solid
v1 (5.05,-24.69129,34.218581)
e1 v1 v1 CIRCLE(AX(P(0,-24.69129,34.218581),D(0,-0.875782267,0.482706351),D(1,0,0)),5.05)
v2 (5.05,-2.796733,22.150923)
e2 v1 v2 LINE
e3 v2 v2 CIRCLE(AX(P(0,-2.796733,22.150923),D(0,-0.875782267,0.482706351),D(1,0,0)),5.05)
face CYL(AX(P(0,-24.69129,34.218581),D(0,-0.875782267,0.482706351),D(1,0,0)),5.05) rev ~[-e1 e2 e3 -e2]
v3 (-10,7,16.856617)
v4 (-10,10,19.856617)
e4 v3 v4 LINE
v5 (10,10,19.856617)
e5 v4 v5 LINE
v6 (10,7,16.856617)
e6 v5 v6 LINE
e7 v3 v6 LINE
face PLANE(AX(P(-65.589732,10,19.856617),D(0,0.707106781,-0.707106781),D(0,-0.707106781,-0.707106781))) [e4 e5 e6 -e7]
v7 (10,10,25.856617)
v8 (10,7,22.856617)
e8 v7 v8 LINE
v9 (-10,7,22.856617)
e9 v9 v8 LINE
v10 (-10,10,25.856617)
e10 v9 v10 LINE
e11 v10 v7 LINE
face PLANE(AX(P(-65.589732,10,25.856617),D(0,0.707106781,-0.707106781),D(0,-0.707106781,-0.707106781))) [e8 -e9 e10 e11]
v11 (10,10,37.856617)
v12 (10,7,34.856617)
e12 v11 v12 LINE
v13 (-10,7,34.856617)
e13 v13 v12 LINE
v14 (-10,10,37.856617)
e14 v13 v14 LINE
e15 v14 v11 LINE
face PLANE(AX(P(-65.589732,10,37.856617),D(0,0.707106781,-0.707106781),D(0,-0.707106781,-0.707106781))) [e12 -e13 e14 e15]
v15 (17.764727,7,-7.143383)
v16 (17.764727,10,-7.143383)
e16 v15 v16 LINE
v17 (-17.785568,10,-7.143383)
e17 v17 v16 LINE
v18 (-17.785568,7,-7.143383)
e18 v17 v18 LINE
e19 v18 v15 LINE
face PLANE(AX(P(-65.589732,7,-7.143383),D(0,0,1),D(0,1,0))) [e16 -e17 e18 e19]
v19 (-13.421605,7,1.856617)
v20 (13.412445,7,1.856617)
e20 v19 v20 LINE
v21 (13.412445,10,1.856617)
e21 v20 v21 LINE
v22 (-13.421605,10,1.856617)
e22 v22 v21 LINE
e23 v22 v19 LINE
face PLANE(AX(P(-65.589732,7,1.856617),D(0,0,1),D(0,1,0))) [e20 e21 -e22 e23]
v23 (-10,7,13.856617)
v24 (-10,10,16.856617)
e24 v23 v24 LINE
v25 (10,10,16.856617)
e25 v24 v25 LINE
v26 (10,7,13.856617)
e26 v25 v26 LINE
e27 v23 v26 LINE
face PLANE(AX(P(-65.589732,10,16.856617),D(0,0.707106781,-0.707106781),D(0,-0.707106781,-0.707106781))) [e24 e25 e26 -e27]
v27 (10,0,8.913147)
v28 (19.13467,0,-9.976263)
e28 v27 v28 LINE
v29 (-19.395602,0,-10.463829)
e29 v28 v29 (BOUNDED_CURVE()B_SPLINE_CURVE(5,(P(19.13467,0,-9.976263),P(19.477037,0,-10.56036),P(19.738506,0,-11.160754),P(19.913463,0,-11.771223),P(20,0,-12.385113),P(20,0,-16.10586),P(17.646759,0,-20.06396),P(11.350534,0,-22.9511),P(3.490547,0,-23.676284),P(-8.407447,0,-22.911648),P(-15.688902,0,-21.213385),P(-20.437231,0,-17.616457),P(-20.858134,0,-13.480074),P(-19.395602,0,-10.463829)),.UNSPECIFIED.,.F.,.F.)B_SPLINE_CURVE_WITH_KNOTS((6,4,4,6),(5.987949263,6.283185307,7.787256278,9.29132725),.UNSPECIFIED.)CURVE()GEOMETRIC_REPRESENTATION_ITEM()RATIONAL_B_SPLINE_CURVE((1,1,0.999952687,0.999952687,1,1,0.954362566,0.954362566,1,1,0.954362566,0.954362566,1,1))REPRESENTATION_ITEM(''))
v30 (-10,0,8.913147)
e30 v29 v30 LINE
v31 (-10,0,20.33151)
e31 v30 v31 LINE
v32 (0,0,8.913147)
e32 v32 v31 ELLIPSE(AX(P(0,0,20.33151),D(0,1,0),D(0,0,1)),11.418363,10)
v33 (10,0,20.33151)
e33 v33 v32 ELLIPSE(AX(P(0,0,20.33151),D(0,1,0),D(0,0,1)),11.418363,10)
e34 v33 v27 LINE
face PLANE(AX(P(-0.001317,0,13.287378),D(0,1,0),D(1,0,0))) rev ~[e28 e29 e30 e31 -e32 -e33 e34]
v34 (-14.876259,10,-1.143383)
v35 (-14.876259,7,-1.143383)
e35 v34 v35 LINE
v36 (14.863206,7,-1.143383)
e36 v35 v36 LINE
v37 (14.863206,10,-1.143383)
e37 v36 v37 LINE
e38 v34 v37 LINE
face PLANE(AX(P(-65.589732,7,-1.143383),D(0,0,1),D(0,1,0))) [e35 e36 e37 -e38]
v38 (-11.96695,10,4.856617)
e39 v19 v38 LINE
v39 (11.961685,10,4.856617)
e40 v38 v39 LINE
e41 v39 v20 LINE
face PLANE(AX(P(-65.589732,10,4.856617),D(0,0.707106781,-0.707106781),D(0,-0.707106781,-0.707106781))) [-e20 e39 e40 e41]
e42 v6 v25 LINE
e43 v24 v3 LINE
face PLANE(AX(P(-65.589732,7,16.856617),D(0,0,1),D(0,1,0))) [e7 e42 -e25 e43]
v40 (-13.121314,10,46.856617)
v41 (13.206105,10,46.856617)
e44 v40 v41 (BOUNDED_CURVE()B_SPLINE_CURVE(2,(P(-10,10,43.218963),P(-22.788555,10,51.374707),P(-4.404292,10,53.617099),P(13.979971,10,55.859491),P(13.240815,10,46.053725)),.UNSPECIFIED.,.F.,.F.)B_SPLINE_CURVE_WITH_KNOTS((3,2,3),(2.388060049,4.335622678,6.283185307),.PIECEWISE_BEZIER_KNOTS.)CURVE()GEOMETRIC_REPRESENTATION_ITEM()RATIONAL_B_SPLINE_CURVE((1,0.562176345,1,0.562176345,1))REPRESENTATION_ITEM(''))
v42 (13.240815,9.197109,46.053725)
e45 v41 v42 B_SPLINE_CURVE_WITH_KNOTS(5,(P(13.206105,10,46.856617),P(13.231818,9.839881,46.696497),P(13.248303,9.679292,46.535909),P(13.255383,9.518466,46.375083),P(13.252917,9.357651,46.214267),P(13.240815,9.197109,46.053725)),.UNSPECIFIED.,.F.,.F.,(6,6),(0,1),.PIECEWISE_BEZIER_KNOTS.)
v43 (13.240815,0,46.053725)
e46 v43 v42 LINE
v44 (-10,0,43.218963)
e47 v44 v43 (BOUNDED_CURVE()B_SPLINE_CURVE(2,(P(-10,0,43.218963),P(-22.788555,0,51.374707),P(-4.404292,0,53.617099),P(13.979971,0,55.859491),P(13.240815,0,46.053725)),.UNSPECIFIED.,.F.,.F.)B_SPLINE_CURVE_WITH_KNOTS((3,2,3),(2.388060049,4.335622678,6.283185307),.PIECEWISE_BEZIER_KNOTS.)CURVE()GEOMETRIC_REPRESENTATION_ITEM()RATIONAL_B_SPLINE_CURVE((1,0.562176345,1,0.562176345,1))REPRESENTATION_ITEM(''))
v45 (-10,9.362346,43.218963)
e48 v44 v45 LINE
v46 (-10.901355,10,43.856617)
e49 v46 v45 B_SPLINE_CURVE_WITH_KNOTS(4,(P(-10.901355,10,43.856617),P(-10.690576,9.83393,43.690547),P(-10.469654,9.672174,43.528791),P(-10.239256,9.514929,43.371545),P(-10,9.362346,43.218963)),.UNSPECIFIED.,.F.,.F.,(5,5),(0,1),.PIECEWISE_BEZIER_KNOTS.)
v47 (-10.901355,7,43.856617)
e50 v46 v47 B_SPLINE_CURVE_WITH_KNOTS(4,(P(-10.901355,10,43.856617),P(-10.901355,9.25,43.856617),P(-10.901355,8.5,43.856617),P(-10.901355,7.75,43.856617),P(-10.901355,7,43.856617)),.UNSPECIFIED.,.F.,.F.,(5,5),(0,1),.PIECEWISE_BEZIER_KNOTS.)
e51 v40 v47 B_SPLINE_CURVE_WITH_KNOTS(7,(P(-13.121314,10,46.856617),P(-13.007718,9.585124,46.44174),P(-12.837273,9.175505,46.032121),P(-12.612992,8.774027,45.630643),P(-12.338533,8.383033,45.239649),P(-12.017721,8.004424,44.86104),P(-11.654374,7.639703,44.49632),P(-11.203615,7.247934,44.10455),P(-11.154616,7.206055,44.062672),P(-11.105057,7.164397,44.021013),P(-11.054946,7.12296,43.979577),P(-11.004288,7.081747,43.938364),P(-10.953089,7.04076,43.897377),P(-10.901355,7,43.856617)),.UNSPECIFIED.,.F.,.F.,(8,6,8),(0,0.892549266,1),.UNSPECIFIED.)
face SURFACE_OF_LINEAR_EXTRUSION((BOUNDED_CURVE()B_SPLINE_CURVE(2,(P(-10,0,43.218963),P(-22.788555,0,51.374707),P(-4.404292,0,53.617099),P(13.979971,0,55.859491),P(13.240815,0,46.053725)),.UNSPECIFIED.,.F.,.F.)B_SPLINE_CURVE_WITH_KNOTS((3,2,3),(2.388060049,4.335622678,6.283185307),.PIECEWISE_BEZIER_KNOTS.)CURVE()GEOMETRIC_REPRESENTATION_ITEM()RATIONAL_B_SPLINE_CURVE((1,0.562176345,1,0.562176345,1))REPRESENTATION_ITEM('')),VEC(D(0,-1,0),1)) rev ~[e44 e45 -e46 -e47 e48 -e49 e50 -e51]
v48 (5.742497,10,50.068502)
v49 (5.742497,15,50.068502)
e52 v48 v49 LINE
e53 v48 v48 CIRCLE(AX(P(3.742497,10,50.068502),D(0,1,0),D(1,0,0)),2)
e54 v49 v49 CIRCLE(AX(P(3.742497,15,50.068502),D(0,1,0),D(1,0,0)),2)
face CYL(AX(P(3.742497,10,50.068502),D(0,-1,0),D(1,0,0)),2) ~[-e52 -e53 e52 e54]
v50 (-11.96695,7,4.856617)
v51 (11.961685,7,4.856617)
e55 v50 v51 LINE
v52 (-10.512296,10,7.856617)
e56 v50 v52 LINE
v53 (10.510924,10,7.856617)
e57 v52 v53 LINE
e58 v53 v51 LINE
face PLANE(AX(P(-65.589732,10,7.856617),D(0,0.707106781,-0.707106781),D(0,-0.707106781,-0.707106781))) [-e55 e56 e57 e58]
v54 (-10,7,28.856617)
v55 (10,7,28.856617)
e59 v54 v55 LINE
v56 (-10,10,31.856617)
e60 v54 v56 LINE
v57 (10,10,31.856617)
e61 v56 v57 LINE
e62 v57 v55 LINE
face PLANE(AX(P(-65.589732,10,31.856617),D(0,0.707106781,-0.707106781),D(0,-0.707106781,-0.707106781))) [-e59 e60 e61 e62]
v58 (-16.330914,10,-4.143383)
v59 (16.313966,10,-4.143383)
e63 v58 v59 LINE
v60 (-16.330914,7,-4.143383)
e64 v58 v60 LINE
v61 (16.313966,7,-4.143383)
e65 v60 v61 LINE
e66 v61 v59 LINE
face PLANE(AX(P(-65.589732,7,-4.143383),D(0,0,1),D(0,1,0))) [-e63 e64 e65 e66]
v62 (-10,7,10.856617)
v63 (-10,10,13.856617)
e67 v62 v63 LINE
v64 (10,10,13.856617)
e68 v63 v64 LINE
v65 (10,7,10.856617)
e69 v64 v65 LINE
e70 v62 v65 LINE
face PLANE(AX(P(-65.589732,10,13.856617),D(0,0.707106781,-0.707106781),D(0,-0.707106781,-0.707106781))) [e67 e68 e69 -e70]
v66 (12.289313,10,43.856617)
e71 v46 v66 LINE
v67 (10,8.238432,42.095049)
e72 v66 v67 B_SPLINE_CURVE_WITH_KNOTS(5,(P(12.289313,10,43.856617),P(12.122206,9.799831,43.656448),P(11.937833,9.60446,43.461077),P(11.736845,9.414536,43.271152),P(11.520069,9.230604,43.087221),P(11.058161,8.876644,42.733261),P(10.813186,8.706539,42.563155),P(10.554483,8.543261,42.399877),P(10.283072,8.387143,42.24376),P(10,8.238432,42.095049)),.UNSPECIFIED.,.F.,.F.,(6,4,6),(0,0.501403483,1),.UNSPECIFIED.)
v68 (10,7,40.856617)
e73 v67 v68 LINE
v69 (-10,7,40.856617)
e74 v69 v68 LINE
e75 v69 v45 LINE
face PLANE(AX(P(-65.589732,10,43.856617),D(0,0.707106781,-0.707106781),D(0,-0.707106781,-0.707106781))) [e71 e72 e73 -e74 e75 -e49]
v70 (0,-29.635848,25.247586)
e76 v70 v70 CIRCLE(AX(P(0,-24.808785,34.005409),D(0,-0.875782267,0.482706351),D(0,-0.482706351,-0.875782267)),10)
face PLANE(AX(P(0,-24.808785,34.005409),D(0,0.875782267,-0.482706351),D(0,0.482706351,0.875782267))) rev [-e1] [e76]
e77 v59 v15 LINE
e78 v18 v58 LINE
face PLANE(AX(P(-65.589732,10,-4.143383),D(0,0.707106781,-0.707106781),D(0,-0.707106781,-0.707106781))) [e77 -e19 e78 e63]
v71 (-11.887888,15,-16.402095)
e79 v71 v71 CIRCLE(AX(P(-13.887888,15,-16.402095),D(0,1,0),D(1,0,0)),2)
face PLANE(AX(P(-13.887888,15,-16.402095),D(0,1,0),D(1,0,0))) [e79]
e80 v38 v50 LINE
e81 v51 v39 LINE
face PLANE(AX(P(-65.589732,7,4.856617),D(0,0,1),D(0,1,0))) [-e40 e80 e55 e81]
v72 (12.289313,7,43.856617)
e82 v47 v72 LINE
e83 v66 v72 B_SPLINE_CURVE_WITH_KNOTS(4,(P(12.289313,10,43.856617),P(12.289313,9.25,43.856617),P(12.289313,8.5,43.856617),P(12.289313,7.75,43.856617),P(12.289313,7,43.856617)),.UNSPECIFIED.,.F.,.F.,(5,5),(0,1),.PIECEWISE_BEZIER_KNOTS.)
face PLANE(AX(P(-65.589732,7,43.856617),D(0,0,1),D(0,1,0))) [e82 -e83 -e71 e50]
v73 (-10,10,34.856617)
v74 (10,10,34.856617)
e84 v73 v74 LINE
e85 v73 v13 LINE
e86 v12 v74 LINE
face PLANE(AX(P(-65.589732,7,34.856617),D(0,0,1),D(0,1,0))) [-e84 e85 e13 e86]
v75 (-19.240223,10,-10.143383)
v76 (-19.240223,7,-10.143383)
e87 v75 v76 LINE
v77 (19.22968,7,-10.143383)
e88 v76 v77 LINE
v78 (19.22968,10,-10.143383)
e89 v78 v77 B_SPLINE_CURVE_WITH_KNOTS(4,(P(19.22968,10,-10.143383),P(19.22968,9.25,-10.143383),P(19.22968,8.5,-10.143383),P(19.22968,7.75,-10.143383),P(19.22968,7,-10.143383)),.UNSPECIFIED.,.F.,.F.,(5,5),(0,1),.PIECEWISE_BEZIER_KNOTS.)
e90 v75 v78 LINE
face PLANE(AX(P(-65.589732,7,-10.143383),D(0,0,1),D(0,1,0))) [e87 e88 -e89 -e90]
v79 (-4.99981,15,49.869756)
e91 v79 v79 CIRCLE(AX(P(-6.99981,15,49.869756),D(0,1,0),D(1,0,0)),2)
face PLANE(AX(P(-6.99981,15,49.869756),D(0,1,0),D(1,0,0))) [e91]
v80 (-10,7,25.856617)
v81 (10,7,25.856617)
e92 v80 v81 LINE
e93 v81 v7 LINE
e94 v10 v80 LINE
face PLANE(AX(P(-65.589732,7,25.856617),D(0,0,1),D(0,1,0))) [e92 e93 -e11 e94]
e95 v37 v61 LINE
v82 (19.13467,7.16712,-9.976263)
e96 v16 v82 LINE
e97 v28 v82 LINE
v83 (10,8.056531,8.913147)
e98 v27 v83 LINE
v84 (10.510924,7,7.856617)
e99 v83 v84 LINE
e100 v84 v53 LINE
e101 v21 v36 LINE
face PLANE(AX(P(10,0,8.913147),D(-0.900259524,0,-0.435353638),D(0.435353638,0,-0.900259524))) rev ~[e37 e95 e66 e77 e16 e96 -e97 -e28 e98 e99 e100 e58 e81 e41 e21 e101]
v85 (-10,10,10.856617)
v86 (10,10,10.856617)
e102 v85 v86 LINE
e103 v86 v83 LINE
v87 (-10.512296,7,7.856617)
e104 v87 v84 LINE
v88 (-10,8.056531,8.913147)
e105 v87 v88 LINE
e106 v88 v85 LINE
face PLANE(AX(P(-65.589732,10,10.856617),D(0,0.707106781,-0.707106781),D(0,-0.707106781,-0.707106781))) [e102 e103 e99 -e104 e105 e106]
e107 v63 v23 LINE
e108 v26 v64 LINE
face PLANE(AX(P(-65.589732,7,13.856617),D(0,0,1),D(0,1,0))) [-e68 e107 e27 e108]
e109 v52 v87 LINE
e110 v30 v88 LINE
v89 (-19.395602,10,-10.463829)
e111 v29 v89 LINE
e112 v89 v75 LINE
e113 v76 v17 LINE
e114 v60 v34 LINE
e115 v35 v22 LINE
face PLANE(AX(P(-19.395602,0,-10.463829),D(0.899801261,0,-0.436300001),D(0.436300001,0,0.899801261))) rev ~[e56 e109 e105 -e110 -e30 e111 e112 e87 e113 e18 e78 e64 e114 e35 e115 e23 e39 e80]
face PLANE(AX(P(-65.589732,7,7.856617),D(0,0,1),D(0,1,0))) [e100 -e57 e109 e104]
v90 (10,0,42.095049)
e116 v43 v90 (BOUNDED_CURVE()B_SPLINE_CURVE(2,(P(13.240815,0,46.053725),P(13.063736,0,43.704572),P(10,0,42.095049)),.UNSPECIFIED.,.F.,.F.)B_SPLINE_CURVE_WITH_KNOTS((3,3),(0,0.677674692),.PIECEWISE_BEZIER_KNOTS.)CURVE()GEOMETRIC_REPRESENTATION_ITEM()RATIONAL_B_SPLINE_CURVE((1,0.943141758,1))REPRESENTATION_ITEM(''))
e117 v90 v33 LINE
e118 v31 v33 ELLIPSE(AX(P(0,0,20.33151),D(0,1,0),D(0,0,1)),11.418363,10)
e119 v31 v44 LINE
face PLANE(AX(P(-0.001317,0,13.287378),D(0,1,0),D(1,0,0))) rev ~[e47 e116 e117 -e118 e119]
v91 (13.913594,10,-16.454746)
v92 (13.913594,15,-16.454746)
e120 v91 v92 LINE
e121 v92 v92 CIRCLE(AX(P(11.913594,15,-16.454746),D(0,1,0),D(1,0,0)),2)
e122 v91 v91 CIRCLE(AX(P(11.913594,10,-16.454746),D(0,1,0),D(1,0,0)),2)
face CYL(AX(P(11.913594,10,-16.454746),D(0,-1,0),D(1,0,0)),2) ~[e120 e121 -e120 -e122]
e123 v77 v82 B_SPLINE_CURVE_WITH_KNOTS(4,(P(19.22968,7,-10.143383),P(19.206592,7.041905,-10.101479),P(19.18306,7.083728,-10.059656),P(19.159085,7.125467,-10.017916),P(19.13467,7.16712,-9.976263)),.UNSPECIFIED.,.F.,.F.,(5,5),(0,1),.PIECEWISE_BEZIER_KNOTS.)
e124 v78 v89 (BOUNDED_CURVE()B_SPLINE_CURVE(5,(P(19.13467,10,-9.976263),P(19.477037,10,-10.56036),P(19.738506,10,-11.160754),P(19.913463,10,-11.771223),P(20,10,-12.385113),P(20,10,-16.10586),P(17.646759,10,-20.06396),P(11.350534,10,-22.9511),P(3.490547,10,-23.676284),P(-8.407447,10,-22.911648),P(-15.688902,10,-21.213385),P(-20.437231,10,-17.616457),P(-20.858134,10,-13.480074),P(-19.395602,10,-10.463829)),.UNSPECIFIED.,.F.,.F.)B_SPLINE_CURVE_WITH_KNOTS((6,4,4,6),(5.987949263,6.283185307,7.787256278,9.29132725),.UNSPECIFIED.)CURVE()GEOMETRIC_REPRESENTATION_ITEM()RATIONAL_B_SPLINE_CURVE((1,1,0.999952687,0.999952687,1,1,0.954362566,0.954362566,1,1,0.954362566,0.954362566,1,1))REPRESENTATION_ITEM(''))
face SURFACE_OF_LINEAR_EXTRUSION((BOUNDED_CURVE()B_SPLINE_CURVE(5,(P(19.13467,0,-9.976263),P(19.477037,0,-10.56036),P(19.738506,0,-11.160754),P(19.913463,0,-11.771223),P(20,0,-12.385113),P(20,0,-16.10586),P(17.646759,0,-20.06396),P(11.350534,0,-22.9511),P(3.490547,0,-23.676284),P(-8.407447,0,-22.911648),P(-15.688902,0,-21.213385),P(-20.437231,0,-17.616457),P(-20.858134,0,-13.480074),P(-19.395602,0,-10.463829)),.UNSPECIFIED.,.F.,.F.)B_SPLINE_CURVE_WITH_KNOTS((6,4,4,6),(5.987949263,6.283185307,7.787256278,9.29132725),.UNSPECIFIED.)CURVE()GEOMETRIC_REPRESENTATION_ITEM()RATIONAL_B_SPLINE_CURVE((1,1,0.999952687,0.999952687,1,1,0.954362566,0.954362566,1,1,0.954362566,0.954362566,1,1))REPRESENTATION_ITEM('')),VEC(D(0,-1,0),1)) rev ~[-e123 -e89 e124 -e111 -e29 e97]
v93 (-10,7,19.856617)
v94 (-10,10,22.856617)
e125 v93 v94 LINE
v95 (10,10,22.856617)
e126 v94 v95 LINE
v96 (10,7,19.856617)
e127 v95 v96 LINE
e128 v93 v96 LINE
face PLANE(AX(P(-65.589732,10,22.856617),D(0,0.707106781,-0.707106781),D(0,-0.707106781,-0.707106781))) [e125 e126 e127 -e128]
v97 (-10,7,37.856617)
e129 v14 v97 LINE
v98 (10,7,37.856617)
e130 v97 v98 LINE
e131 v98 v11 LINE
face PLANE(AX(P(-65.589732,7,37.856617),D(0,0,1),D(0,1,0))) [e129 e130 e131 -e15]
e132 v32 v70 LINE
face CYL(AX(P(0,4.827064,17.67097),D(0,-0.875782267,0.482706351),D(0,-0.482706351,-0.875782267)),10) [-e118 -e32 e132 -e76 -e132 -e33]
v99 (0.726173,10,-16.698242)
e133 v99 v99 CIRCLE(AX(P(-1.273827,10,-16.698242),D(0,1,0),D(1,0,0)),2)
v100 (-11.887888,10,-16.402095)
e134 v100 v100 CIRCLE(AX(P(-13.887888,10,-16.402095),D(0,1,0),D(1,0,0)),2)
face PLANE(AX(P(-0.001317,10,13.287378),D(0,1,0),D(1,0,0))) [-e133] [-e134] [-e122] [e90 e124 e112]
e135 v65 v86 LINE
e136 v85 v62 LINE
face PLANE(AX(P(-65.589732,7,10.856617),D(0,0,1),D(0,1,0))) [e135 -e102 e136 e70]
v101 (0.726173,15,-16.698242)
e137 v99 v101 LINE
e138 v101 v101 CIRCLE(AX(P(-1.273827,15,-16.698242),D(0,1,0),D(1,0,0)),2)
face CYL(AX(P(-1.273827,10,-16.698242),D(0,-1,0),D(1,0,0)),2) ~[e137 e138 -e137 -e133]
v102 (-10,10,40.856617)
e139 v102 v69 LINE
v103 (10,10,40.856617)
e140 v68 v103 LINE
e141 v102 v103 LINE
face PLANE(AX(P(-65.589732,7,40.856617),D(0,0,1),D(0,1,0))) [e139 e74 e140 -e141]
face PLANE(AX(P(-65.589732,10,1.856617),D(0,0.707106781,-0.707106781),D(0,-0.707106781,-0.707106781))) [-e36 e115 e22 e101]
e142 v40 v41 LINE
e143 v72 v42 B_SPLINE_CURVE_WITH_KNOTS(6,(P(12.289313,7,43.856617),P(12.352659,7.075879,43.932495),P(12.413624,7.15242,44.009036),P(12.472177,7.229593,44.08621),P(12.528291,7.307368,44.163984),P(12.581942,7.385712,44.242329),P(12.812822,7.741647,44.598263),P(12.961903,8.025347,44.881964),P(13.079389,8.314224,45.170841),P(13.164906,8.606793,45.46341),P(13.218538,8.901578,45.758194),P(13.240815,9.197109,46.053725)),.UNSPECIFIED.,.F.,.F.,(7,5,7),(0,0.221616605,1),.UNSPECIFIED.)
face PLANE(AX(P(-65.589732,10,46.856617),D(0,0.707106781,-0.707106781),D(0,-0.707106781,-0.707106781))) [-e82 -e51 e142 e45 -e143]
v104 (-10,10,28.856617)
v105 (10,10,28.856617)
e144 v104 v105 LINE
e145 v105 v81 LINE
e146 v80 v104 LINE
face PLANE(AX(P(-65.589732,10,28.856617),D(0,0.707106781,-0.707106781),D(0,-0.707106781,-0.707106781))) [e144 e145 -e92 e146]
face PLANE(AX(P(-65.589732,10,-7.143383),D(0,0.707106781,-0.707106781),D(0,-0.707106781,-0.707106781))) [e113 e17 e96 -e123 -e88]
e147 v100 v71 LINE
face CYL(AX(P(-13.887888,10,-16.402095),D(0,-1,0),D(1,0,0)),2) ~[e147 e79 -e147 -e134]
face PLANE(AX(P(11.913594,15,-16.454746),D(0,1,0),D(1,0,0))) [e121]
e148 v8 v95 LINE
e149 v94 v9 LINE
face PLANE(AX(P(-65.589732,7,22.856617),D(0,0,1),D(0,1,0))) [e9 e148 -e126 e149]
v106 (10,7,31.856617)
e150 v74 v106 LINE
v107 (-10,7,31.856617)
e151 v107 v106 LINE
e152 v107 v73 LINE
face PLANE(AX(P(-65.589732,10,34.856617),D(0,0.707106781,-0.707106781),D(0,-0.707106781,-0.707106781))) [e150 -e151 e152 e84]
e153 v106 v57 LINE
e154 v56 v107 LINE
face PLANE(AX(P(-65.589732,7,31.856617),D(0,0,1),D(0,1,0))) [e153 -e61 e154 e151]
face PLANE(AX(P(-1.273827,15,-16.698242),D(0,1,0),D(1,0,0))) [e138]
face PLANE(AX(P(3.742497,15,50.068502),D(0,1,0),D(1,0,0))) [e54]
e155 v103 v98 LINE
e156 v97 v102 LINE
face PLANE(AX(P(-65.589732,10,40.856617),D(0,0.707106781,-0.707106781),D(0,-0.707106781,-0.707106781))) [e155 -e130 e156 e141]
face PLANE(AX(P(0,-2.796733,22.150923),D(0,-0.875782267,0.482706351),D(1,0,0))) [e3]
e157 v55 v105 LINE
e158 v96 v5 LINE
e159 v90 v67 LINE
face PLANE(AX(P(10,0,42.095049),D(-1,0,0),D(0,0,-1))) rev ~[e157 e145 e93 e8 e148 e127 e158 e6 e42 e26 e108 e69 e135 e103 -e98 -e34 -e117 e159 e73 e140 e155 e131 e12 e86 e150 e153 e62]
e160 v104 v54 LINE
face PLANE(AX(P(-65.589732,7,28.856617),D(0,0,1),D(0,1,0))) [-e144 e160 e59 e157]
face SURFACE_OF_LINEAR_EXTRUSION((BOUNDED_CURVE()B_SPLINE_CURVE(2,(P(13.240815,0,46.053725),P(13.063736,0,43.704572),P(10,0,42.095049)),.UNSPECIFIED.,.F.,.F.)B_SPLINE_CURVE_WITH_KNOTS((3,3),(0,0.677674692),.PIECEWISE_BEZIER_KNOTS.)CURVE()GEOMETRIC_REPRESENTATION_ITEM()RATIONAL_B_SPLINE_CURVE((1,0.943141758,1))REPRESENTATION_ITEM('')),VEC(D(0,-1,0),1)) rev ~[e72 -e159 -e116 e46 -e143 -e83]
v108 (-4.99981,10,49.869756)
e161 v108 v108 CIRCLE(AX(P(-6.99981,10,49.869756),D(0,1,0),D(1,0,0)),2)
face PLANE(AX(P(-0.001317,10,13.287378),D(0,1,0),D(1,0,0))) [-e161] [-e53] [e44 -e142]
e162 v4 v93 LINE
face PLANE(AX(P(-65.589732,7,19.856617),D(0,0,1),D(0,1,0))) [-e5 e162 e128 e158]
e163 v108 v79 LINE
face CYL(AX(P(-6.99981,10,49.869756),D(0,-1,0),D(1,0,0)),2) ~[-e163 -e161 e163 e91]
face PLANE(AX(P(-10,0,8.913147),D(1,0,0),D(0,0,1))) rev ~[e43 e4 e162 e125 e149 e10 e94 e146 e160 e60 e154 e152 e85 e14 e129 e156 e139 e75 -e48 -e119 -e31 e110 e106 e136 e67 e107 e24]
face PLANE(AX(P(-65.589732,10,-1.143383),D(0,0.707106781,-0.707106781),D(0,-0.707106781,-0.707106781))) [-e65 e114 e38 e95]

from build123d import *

# Parameters (mm, degrees)
EXTRUDE_2_DEPTH          = 10
SKETCH_8_R               = 5.05
CUT_EXTRUDE_1_DEPTH      = 25
CUT_EXTRUDE_2_DEPTH      = 65.589732479
CUT_EXTRUDE_2_DEPTH_BACK = 65.589732479
SKETCH_10_R              = 2
EXTRUDE_3_DEPTH          = 5


with BuildPart() as part:
    # Эскиз3 → Бобышка-Вытянуть2 (new body)
    with BuildSketch(Plane(origin=(0, 0, 0), x_dir=(1, 0, 0), z_dir=(0, 1, 0))):
        with BuildLine():
            Line((-19.39560228, 10.463829147), (-10, -8.913147143))
            Line((-10, -8.913147143), (-10, -43.218962734))
            add(Edge.make_bspline(
                [(-10, -43.218962734), (-22.788555386, -51.374706713), (-4.404292307, -53.617098764), (13.979970771, -55.859490815), (13.24081494, -46.053725186)],
                knots=[2.388060049, 2.388060049, 2.388060049, 4.335622678, 4.335622678, 6.283185307, 6.283185307, 6.283185307], degree=2, weights=[1, 0.562176345, 1, 0.562176345, 1]))
            add(Edge.make_bspline(
                [(13.24081494, -46.053725186), (13.063736407, -43.704571568), (10, -42.095048909)],
                knots=[0, 0, 0, 0.677674692, 0.677674692, 0.677674692], degree=2, weights=[1, 0.943141758, 1]))
            Line((10, -42.095048909), (10, -8.913147143))
            Line((10, -8.913147143), (19.134669767, 9.976263053))
            add(Edge.make_bspline(
                [(19.134669767, 9.976263053), (20, 11.452562535), (20, 12.995624946)],
                knots=[5.987949263, 5.987949263, 5.987949263, 6.283185307, 6.283185307, 6.283185307], degree=2, weights=[1, 0.989124231, 1]))
            add(Edge.make_bspline(
                [(20, 12.995624946), (20, 24.73727953), (-2.458450162, 23.293965899), (-24.916900324, 21.850652268), (-19.39560228, 10.463829147)],
                knots=[0, 0, 0, 1.694030518, 1.694030518, 3.388061035, 3.388061035, 3.388061035], degree=2, weights=[1, 0.66222258, 1, 0.66222258, 1]))
        make_face()
    extrude(amount=EXTRUDE_2_DEPTH)

    # Эскиз6 → Повернуть1 (revolve)
    with BuildSketch(Plane(origin=(0, 0, 0), x_dir=(0, 0, -1), z_dir=(1, 0, 0))):
        Polygon((-8.913147143, 0), (-25.247586294, -29.635848206), (-34.005408961, -24.808784696), (-20.331510337, 0), align=None)
    revolve(axis=Axis((0, 0, 20.331510337), (0, -0.8757822667380798, 0.48270635097035014)))

    # Эскиз8 → Вырез-Вытянуть1 (cut)
    with BuildSketch(Plane(origin=(0, -33.403842498, 18.411250756), x_dir=(1, 0, 0), z_dir=(0, -0.8757822667380799, 0.4827063509703501))):
        with Locations((0, 18.049384131)):
            Circle(SKETCH_8_R)
    extrude(amount=-CUT_EXTRUDE_1_DEPTH, mode=Mode.SUBTRACT)

    # Эскиз9 → Вырез-Вытянуть2 (cut, two sides: drawn at the far end of the back side and taken through both)
    with BuildSketch(Plane(origin=(0, 0, 0), x_dir=(0, 0, -1), z_dir=(1, 0, 0)).offset(-CUT_EXTRUDE_2_DEPTH_BACK)):
        Polygon((-43.856616521, 10), (-46.856616521, 10), (-43.856616521, 7), align=None)
        Polygon((-40.856616521, 10), (-43.856616521, 10), (-40.856616521, 7), align=None)
        Polygon((-37.856616521, 10), (-40.856616521, 10), (-37.856616521, 7), align=None)
        Polygon((-34.856616521, 10), (-37.856616521, 10), (-34.856616521, 7), align=None)
        Polygon((-31.856616521, 10), (-34.856616521, 10), (-31.856616521, 7), align=None)
        Polygon((-28.856616521, 10), (-31.856616521, 10), (-28.856616521, 7), align=None)
        Polygon((-25.856616521, 10), (-28.856616521, 10), (-25.856616521, 7), align=None)
        Polygon((-22.856616521, 10), (-25.856616521, 10), (-22.856616521, 7), align=None)
        Polygon((-19.856616521, 10), (-22.856616521, 10), (-19.856616521, 7), align=None)
        Polygon((-16.856616521, 10), (-19.856616521, 10), (-16.856616521, 7), align=None)
        Polygon((-13.856616521, 10), (-16.856616521, 10), (-13.856616521, 7), align=None)
        Polygon((-10.856616521, 10), (-13.856616521, 10), (-10.856616521, 7), align=None)
        Polygon((-7.856616521, 10), (-10.856616521, 10), (-7.856616521, 7), align=None)
        Polygon((-4.856616521, 10), (-7.856616521, 10), (-4.856616521, 7), align=None)
        Polygon((-1.856616521, 10), (-4.856616521, 10), (-1.856616521, 7), align=None)
        Polygon((1.143383479, 10), (-1.856616521, 10), (1.143383479, 7), align=None)
        Polygon((4.143383479, 10), (1.143383479, 10), (4.143383479, 7), align=None)
        Polygon((7.143383479, 10), (4.143383479, 10), (7.143383479, 7), align=None)
        Polygon((10.143383479, 10), (7.143383479, 10), (10.143383479, 7), align=None)
    extrude(amount=CUT_EXTRUDE_2_DEPTH + CUT_EXTRUDE_2_DEPTH_BACK, mode=Mode.SUBTRACT)

    # Эскиз10 → Бобышка-Вытянуть3 (add)
    with BuildSketch(Plane(origin=(0, 10, 0), x_dir=(1, 0, 0), z_dir=(0, 1, 0))):
        with Locations((-13.887887631, 16.40209469)):
            Circle(SKETCH_10_R)
        with Locations((-1.273826777, 16.698241985)):
            Circle(SKETCH_10_R)
        with Locations((11.913593592, 16.454746241)):
            Circle(SKETCH_10_R)
        with Locations((-6.999810032, -49.869756455)):
            Circle(SKETCH_10_R)
        with Locations((3.742496984, -50.068502191)):
            Circle(SKETCH_10_R)
    extrude(amount=EXTRUDE_3_DEPTH)


solid = part.part
